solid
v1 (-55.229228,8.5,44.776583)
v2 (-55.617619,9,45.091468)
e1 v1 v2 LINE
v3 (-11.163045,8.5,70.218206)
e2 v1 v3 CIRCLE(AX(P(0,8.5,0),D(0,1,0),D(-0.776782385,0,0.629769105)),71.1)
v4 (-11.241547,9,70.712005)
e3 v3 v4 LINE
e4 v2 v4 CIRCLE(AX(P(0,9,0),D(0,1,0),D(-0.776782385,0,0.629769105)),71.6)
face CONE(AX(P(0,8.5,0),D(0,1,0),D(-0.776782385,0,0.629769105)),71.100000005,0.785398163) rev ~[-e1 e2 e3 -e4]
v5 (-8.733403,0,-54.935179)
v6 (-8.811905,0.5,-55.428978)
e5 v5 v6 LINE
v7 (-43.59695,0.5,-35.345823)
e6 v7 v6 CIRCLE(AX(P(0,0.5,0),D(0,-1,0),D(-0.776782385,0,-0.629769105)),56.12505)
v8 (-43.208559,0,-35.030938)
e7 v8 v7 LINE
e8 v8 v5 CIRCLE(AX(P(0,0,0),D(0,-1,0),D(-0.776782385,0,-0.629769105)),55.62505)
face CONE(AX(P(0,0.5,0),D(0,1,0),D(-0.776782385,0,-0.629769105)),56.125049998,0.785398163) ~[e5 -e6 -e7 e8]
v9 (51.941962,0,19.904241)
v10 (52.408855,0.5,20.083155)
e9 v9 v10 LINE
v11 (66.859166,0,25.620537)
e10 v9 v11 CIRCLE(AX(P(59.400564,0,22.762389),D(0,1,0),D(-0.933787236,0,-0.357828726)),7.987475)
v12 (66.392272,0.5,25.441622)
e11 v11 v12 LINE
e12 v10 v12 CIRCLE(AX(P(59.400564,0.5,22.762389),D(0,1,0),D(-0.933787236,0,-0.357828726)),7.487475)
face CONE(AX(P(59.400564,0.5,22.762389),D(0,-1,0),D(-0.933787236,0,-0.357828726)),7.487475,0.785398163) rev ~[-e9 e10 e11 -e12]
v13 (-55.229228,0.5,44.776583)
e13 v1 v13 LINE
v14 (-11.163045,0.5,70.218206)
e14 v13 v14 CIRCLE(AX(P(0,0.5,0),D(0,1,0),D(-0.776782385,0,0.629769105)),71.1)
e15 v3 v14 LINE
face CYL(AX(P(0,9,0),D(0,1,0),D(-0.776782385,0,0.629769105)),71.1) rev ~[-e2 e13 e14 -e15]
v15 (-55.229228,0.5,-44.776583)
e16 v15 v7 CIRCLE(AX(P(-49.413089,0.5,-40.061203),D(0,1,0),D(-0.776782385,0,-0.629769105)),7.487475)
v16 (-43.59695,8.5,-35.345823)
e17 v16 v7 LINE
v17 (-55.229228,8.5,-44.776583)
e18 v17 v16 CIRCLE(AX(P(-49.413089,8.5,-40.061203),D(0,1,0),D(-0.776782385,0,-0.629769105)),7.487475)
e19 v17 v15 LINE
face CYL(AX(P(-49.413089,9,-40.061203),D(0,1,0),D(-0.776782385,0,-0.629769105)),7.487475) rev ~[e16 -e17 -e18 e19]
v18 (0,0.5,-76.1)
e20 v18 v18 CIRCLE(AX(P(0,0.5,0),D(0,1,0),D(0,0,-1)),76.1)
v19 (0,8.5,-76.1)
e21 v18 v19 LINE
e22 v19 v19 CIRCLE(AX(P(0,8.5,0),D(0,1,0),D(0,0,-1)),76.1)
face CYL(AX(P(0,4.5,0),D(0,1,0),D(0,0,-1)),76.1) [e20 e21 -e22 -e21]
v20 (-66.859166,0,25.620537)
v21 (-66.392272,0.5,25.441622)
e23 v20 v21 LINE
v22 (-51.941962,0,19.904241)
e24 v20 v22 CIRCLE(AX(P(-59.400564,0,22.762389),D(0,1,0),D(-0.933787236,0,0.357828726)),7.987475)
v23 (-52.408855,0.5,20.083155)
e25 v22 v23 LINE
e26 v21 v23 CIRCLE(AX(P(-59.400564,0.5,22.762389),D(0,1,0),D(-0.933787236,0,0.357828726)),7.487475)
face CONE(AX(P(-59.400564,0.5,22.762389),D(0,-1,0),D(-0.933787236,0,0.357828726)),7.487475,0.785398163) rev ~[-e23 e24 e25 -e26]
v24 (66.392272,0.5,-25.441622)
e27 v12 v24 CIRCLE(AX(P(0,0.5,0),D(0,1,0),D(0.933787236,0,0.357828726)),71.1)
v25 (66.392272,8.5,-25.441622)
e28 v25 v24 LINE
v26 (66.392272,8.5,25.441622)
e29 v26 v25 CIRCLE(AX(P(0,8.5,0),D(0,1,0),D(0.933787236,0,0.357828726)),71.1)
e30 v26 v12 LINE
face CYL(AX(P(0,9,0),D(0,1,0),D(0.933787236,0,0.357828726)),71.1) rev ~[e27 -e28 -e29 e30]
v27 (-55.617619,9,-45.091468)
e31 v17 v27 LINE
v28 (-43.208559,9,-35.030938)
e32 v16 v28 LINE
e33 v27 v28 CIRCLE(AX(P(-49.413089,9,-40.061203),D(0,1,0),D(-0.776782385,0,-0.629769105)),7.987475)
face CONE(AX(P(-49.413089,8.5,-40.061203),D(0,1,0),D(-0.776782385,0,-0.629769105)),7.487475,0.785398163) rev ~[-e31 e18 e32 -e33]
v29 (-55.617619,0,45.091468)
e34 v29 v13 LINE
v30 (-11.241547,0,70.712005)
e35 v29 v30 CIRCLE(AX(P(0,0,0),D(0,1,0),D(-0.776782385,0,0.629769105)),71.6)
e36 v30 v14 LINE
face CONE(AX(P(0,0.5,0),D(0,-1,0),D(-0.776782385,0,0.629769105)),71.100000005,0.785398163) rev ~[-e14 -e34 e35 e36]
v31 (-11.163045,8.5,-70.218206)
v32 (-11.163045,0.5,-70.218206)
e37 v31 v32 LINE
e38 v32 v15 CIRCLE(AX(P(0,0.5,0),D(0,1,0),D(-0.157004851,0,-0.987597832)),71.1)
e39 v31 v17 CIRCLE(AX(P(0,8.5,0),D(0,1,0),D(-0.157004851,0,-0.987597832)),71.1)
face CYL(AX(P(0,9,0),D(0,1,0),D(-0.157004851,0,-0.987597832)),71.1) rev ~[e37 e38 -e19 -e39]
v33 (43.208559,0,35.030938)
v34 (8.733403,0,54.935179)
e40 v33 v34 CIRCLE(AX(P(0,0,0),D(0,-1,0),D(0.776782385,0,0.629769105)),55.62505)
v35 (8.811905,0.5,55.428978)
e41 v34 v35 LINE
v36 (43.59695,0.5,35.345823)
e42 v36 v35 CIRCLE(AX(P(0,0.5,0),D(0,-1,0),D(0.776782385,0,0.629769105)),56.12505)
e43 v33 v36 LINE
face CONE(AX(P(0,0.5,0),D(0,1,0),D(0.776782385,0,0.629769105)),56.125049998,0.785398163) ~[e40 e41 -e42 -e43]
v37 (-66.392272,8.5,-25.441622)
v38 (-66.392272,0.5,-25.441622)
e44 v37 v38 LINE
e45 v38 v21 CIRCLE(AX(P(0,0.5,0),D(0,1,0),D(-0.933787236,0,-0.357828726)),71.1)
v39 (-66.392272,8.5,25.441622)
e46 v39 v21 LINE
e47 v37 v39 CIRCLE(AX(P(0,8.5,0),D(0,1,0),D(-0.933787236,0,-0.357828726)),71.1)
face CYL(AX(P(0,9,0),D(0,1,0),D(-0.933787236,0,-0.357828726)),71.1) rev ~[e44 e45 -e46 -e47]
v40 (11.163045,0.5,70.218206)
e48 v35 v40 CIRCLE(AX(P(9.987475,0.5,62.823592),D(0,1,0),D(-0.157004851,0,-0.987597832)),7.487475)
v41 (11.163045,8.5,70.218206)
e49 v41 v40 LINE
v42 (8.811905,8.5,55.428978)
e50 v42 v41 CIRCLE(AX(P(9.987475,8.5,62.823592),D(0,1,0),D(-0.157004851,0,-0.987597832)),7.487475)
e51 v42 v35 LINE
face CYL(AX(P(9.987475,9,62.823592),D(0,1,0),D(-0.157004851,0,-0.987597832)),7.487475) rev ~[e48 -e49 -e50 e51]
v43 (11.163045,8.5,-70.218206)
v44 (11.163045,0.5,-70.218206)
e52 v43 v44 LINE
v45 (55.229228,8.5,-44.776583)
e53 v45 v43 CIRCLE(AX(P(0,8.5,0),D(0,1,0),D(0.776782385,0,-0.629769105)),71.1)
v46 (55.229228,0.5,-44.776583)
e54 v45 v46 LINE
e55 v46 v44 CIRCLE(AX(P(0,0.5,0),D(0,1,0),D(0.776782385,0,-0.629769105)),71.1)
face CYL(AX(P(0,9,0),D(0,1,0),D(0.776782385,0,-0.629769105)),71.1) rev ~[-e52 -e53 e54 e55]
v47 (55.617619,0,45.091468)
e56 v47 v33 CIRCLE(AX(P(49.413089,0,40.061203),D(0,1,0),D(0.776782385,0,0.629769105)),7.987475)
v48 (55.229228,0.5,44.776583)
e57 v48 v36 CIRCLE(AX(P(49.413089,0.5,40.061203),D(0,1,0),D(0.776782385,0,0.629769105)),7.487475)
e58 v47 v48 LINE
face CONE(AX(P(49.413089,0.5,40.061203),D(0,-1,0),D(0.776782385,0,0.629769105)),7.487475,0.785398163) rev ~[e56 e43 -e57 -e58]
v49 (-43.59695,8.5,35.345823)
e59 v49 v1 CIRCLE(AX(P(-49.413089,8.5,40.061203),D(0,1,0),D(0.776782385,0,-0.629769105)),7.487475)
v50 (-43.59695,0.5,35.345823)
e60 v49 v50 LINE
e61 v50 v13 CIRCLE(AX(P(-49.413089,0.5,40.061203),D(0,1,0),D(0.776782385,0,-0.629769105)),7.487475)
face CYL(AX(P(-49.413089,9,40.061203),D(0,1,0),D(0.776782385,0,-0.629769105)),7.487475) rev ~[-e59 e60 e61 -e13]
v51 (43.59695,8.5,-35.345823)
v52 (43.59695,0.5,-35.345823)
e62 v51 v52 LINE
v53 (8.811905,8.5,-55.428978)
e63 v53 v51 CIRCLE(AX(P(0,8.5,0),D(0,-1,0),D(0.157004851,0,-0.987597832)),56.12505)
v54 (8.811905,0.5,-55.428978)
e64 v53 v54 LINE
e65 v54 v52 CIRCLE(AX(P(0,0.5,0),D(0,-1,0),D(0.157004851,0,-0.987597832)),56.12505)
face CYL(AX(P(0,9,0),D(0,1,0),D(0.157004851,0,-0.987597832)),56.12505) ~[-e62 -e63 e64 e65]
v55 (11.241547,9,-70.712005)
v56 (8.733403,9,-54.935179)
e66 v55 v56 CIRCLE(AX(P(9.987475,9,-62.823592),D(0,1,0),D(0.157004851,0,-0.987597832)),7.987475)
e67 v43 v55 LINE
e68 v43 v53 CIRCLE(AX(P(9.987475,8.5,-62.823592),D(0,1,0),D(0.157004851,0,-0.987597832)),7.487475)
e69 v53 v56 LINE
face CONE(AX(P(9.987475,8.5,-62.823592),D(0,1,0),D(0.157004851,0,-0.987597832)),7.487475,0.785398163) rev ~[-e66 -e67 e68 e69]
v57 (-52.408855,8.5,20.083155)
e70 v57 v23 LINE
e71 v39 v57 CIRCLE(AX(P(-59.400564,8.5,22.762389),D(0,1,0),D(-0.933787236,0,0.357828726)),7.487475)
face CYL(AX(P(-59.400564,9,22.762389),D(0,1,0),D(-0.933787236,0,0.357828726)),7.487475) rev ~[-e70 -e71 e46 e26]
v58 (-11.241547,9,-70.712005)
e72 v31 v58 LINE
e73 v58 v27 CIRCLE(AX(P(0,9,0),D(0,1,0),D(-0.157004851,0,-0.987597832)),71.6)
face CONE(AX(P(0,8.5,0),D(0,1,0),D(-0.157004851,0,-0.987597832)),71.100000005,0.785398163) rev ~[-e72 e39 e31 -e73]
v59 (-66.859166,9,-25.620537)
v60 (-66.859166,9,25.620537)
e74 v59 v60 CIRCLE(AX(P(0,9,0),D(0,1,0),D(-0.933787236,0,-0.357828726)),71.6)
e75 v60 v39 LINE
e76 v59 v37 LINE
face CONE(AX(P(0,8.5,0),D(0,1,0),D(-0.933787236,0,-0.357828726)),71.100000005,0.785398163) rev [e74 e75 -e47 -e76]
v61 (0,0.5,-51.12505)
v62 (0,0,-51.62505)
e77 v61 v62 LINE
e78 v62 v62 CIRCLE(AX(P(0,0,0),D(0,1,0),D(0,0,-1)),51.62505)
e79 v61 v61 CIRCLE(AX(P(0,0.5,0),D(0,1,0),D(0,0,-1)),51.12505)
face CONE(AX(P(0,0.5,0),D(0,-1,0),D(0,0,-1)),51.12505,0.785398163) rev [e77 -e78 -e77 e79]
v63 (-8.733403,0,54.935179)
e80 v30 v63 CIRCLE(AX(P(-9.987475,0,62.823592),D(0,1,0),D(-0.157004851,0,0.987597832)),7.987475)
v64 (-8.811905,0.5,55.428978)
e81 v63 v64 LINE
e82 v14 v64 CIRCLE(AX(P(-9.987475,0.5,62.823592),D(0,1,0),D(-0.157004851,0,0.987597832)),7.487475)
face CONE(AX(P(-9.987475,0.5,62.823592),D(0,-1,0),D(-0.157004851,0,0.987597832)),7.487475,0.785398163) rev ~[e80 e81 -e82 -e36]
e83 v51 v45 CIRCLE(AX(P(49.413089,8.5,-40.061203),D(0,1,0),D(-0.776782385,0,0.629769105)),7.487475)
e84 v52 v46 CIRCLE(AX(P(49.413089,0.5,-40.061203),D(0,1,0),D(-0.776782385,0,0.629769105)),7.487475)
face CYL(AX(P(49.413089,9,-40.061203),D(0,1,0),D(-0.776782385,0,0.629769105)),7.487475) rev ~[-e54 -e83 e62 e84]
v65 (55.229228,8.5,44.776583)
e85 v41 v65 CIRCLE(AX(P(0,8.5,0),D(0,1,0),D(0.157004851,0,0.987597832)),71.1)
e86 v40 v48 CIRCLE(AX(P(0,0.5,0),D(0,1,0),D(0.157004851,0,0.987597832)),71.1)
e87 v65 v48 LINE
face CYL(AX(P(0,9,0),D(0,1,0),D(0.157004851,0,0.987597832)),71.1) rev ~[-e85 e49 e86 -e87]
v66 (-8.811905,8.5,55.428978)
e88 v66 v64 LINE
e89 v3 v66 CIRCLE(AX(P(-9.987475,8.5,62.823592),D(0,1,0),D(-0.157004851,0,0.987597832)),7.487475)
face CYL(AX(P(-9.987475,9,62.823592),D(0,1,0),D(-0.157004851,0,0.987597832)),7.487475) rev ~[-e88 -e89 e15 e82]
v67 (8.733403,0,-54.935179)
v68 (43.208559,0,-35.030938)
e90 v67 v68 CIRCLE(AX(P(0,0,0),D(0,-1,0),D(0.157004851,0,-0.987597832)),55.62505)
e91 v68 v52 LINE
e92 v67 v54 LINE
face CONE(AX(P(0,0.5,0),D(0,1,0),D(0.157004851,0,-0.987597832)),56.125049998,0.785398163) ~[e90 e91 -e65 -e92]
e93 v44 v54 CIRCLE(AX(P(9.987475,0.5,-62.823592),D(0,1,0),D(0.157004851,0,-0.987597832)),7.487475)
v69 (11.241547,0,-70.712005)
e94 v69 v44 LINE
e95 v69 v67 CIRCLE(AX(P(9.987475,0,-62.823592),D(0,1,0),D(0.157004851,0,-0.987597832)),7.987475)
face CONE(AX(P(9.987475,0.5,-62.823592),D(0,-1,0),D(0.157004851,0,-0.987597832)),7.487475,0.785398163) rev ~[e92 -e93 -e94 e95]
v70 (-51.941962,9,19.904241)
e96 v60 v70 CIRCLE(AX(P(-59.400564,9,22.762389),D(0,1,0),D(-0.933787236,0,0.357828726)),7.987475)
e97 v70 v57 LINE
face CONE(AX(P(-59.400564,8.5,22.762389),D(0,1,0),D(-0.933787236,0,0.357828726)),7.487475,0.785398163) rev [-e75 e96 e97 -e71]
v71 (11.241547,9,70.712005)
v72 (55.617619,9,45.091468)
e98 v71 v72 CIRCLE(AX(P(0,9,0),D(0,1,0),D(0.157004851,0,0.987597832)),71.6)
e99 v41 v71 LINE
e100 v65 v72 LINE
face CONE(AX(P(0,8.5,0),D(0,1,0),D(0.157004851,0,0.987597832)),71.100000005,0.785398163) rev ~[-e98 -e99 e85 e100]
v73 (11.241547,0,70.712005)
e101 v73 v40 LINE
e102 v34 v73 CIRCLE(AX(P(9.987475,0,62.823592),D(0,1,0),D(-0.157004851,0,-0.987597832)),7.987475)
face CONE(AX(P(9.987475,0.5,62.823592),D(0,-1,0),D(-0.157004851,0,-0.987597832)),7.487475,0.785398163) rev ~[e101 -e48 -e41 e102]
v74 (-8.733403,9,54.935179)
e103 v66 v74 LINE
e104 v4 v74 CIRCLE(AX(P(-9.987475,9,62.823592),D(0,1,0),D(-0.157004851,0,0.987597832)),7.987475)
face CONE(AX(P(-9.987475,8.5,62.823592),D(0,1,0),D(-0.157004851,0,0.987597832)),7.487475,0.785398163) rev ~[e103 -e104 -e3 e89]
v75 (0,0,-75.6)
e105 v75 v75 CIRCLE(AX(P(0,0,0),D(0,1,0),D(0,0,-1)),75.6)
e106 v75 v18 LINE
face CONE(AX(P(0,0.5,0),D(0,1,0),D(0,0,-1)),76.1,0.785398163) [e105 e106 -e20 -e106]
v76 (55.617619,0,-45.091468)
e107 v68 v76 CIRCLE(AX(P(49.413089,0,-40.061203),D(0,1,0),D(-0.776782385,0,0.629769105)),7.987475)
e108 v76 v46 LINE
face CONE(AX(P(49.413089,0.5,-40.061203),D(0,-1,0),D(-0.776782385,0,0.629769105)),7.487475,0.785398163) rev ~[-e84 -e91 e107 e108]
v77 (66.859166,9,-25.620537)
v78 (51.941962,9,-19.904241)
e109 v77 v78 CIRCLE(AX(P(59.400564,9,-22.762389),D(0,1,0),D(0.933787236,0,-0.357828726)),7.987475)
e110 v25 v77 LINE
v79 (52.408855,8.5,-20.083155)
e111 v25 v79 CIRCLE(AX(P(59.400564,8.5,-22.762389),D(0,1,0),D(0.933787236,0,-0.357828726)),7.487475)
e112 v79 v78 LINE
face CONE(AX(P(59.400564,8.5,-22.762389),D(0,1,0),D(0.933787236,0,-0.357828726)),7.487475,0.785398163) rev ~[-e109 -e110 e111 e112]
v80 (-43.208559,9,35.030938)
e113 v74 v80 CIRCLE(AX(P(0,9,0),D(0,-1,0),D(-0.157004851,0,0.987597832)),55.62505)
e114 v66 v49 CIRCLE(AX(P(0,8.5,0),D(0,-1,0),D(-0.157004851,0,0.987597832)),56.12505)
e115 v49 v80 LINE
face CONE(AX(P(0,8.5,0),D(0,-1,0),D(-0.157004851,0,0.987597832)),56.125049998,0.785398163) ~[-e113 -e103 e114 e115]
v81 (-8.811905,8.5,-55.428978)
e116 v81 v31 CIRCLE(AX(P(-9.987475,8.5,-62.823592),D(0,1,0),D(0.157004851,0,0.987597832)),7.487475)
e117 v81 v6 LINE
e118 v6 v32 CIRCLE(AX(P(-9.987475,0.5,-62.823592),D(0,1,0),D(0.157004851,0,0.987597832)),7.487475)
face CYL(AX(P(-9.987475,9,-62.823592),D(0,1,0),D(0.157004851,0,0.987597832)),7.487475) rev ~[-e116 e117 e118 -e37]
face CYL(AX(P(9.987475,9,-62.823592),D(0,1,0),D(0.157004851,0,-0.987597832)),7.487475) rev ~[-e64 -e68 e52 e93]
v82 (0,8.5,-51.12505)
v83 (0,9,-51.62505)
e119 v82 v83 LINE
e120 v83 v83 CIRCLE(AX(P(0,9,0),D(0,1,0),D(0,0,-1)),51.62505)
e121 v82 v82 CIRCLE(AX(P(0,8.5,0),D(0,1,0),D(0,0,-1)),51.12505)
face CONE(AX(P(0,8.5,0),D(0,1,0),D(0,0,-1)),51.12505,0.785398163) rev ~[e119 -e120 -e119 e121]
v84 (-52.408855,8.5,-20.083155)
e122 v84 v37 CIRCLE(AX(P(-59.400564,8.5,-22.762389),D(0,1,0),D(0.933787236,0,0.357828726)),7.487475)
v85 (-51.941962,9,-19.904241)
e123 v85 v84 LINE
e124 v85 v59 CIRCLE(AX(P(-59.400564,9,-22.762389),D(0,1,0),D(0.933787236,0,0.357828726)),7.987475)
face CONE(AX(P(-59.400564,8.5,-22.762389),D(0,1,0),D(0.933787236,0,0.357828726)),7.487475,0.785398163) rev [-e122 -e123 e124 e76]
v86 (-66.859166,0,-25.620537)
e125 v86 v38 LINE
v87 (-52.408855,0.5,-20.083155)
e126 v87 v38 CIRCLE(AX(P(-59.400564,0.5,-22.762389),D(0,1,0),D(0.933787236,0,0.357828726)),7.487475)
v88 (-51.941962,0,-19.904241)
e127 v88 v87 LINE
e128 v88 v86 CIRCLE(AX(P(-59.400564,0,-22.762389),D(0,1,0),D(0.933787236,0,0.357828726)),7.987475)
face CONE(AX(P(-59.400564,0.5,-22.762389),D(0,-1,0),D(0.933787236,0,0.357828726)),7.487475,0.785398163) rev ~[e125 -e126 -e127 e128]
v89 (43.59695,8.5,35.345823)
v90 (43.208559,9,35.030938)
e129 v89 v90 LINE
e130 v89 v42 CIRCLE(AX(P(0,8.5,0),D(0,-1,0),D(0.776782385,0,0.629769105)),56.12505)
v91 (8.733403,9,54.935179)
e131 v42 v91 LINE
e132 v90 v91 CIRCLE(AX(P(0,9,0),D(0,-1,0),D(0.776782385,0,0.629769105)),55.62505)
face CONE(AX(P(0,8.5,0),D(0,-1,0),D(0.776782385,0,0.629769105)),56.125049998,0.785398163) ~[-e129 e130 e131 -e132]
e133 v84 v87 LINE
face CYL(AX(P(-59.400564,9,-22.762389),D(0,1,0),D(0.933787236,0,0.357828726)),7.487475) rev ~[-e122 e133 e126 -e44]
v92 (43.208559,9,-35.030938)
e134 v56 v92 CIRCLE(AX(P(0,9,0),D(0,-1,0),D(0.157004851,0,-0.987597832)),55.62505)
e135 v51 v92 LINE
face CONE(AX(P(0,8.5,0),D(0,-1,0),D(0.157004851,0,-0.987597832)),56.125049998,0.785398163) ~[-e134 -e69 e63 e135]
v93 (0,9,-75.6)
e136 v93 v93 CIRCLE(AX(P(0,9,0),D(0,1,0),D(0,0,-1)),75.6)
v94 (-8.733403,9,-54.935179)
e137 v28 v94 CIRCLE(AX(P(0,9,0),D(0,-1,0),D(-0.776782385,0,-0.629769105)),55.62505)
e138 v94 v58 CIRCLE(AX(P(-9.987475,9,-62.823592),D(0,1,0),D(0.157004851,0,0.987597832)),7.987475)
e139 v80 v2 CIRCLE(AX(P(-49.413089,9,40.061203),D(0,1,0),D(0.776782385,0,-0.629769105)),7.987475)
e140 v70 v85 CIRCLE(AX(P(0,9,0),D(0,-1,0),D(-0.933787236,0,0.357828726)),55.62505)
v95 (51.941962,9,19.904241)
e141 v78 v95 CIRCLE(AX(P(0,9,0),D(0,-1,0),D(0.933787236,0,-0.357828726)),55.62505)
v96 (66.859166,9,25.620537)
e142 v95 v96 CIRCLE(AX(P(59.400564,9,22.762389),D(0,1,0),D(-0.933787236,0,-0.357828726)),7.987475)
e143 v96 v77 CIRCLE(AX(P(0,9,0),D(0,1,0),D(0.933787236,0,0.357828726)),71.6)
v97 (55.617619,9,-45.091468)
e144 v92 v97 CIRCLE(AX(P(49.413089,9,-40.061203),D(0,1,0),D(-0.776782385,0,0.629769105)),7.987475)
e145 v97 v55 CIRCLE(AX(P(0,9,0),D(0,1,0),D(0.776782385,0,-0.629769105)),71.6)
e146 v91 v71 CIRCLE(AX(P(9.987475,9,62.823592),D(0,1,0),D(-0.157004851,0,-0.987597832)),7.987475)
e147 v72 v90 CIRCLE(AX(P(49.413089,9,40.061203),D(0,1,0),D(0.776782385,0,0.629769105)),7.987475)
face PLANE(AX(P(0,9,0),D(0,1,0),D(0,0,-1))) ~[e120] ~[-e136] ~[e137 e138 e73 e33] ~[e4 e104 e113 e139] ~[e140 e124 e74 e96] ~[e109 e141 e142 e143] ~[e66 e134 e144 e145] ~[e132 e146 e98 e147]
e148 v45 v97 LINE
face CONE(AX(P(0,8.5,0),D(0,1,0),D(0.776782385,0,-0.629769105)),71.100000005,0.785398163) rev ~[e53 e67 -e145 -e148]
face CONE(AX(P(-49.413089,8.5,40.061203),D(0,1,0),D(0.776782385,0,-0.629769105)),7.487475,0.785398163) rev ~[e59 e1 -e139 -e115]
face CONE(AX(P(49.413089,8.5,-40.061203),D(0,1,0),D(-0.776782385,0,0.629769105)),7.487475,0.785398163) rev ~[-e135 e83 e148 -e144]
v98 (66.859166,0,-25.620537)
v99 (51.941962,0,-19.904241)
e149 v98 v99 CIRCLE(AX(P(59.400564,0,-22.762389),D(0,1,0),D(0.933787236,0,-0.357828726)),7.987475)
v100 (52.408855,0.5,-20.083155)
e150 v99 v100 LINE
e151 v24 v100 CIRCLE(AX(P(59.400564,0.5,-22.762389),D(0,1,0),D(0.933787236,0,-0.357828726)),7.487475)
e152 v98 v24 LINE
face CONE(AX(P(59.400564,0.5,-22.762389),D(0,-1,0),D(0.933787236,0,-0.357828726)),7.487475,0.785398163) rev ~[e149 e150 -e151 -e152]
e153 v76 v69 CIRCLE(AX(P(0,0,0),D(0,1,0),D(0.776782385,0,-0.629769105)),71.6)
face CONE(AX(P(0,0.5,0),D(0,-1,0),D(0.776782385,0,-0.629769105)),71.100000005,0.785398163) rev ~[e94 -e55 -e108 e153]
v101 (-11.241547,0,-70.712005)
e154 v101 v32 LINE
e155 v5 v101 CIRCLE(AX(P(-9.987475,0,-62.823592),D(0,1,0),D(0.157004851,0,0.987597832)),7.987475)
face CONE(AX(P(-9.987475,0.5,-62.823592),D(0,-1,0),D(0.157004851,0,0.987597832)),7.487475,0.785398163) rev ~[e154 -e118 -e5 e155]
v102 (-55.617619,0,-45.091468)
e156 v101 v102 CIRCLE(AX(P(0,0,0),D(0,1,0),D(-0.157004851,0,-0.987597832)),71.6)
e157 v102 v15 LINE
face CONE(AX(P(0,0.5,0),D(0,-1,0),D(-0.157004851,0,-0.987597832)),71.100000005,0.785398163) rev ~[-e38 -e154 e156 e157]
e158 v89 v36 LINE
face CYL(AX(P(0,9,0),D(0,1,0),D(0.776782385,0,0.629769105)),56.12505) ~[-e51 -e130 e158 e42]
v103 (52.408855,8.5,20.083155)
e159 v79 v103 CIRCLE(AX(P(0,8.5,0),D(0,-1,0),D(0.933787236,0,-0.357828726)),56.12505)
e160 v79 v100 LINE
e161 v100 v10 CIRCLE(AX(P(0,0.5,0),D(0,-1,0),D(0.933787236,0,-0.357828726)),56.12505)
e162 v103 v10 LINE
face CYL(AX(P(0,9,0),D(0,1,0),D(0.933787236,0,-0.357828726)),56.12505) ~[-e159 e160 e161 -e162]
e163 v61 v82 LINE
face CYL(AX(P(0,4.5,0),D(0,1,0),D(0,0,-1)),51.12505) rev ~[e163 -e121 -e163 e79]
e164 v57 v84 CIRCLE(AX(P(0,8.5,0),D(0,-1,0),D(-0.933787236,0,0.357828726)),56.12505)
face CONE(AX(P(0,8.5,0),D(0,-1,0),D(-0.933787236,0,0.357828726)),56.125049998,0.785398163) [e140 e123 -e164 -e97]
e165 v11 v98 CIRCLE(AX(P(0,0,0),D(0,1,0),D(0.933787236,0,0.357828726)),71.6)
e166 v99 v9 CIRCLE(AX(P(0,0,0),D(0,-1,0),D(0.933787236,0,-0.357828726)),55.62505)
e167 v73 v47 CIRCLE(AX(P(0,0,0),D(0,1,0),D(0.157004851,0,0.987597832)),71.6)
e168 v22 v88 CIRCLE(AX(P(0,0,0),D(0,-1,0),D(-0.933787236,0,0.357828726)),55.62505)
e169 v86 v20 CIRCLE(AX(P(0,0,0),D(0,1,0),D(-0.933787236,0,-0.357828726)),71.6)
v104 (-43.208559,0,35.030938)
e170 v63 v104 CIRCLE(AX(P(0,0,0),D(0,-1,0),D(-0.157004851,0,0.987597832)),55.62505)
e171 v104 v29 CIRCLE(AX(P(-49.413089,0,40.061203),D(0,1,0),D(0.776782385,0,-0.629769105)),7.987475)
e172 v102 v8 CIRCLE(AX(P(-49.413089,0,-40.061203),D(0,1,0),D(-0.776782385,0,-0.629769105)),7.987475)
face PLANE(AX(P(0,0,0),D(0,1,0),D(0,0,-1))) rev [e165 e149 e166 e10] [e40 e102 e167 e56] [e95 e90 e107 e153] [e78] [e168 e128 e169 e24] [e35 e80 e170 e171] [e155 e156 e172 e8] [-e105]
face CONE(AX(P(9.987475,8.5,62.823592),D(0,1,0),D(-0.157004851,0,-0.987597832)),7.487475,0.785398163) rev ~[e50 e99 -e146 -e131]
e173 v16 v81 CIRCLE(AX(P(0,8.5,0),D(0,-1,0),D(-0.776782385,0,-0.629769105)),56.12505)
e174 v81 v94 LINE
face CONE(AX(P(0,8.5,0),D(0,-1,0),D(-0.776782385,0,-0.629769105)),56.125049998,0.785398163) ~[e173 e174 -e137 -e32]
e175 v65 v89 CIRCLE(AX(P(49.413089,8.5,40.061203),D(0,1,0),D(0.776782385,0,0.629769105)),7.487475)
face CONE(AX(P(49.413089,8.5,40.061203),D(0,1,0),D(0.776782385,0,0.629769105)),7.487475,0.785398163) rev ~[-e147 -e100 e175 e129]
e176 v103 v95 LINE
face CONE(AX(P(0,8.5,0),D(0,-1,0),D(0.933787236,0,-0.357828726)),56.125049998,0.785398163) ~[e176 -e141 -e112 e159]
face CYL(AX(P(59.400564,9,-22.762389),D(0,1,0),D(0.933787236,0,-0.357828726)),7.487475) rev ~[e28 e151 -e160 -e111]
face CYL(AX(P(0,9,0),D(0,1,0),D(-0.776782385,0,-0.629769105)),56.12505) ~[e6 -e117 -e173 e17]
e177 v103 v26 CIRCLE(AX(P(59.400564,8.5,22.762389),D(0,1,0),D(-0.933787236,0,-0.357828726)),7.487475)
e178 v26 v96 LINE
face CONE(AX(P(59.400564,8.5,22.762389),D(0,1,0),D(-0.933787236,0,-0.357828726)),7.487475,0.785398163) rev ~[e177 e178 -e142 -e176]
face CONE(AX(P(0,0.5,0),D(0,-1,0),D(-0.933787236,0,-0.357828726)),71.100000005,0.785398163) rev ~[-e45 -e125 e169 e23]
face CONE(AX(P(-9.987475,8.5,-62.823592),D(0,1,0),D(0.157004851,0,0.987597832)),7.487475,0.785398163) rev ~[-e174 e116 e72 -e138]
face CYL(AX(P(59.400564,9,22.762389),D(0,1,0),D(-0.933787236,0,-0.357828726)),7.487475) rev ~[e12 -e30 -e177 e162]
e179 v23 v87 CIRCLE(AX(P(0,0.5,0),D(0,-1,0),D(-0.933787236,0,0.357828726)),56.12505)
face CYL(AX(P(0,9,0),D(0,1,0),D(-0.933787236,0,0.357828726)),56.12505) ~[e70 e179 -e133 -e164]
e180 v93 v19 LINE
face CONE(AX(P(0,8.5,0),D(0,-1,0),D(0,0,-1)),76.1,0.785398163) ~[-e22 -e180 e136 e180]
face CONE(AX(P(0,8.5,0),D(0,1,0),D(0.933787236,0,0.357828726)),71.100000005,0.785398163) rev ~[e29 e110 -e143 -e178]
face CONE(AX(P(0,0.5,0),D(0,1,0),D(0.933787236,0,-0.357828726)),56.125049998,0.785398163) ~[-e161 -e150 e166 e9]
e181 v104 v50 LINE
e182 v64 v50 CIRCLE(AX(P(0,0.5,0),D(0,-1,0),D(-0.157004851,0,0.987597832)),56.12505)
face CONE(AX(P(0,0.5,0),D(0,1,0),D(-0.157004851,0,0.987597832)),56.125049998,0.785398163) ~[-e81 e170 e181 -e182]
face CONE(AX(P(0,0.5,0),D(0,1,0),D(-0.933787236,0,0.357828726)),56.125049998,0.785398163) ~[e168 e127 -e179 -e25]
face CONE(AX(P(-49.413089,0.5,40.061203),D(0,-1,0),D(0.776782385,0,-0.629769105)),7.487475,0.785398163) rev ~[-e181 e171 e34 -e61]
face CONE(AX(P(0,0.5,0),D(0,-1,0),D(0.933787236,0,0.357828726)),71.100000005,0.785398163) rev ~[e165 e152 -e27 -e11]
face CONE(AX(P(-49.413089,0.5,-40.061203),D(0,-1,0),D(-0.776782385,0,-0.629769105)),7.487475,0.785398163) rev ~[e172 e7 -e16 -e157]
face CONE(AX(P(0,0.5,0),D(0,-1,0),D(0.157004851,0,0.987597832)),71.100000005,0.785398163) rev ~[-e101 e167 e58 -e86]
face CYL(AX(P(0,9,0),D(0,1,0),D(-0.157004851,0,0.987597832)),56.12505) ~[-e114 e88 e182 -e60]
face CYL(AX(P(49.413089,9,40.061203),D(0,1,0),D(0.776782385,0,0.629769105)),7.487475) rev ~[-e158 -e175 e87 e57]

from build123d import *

# Parameters (mm, degrees)
SKETCH1_W                    = 24.97495
SKETCH1_H                    = 9
CUT_EXTRUDE1_DEPTH           = 10
CHAMFER3_SIZE                = 0.5
CHAMFER4_SIZE                = 0.5
CIRPATTERN1_COUNT            = 6
CHAMFER4_OF_CIRPATTERN1_SIZE = 0.5


with BuildPart() as part:
    # Sketch1 → Revolve1 (revolve)
    with BuildSketch(Plane.XY, mode=Mode.PRIVATE) as revolve1_sk:
        with Locations((63.612525, 4.5)):
            Rectangle(SKETCH1_W, SKETCH1_H)
    revolve(revolve1_sk.sketch.rotate(Axis((0, 0, 0), (0, 1, 0)), 90), axis=Axis((0, 0, 0), (0, 1, 0)))

    # Sketch2 → Cut-Extrude1 (cut)
    with BuildSketch(Plane(origin=(0, 9, 0), x_dir=(1, 0, 0), z_dir=(0, 1, 0))):
        with BuildLine():
            ThreePointArc((-66.392272497, 25.441622447), (-71.1, 0), (-66.392272497, -25.441622447))
            ThreePointArc((-66.392272497, -25.441622447), (-56.721330267, -29.754097391), (-52.408855323, -20.083155161))
            ThreePointArc((-52.408855323, -20.083155161), (-56.12505, 0), (-52.408855323, 20.083155161))
            ThreePointArc((-52.408855323, 20.083155161), (-56.721330267, 29.754097391), (-66.392272497, 25.441622447))
        make_face()
    cut_extrude1 = extrude(amount=-CUT_EXTRUDE1_DEPTH, mode=Mode.SUBTRACT)

    # Chamfer3
    chamfer3_edges = [part.edges().sort_by_distance(p)[0] for p in [
        (0, 0, 76.1),
        (0, 9, 76.1),
        (0, 9, 51.12505),
        (0, 0, 51.12505),
    ]]
    chamfer(chamfer3_edges, length=CHAMFER3_SIZE)

    # Chamfer4
    chamfer4_edges = [part.edges().sort_by_distance(p)[0] for p in [
        (-71.1, 0, 0),
        (-56.721330267, 0, -29.754097391),
        (-56.721330267, 0, 29.754097391),
        (-56.12505, 0, 0),
        (-56.12505, 9, 0),
        (-71.1, 9, 0),
        (-56.721330267, 9, 29.754097391),
        (-56.721330267, 9, -29.754097391),
    ]]
    chamfer(chamfer4_edges, length=CHAMFER4_SIZE)

    # CirPattern1: Cut-Extrude1 ×6 about axis
    cirpattern1_axis = Axis((0, 0, 0), (0, 1, 0))
    for i in range(1, CIRPATTERN1_COUNT):
        add(cut_extrude1.rotate(cirpattern1_axis, i * 360 / CIRPATTERN1_COUNT), mode=Mode.SUBTRACT)

    # Chamfer4 of CirPattern1
    chamfer4_of_cirpattern1_edges = [part.edges().sort_by_distance(p)[0] for p in [
        (-35.55, 0, 61.574406209),
        (-54.12846934, 0, 34.245064252),
        (-2.592860926, 0, 63.999161643),
        (-28.062525, 0, 48.605719089),
        (-28.062525, 9, 48.605719089),
        (-35.55, 9, 61.574406209),
        (-2.592860926, 9, 63.999161643),
        (-54.12846934, 9, 34.245064252),
        (35.55, 0, 61.574406209),
        (2.592860926, 0, 63.999161643),
        (54.12846934, 0, 34.245064252),
        (28.062525, 0, 48.605719089),
        (28.062525, 9, 48.605719089),
        (35.55, 9, 61.574406209),
        (54.12846934, 9, 34.245064252),
        (2.592860926, 9, 63.999161643),
        (71.1, 0, 0),
        (56.721330267, 0, 29.754097391),
        (56.721330267, 0, -29.754097391),
        (56.12505, 0, 0),
        (56.12505, 9, 0),
        (71.1, 9, 0),
        (56.721330267, 9, -29.754097391),
        (56.721330267, 9, 29.754097391),
        (35.55, 0, -61.574406209),
        (54.12846934, 0, -34.245064252),
        (2.592860926, 0, -63.999161643),
        (28.062525, 0, -48.605719089),
        (28.062525, 9, -48.605719089),
        (35.55, 9, -61.574406209),
        (2.592860926, 9, -63.999161643),
        (54.12846934, 9, -34.245064252),
        (-35.55, 0, -61.574406209),
        (-2.592860926, 0, -63.999161643),
        (-54.12846934, 0, -34.245064252),
        (-28.062525, 0, -48.605719089),
        (-28.062525, 9, -48.605719089),
        (-35.55, 9, -61.574406209),
        (-54.12846934, 9, -34.245064252),
        (-2.592860926, 9, -63.999161643),
    ]]
    chamfer(chamfer4_of_cirpattern1_edges, length=CHAMFER4_OF_CIRPATTERN1_SIZE)


solid = part.part
